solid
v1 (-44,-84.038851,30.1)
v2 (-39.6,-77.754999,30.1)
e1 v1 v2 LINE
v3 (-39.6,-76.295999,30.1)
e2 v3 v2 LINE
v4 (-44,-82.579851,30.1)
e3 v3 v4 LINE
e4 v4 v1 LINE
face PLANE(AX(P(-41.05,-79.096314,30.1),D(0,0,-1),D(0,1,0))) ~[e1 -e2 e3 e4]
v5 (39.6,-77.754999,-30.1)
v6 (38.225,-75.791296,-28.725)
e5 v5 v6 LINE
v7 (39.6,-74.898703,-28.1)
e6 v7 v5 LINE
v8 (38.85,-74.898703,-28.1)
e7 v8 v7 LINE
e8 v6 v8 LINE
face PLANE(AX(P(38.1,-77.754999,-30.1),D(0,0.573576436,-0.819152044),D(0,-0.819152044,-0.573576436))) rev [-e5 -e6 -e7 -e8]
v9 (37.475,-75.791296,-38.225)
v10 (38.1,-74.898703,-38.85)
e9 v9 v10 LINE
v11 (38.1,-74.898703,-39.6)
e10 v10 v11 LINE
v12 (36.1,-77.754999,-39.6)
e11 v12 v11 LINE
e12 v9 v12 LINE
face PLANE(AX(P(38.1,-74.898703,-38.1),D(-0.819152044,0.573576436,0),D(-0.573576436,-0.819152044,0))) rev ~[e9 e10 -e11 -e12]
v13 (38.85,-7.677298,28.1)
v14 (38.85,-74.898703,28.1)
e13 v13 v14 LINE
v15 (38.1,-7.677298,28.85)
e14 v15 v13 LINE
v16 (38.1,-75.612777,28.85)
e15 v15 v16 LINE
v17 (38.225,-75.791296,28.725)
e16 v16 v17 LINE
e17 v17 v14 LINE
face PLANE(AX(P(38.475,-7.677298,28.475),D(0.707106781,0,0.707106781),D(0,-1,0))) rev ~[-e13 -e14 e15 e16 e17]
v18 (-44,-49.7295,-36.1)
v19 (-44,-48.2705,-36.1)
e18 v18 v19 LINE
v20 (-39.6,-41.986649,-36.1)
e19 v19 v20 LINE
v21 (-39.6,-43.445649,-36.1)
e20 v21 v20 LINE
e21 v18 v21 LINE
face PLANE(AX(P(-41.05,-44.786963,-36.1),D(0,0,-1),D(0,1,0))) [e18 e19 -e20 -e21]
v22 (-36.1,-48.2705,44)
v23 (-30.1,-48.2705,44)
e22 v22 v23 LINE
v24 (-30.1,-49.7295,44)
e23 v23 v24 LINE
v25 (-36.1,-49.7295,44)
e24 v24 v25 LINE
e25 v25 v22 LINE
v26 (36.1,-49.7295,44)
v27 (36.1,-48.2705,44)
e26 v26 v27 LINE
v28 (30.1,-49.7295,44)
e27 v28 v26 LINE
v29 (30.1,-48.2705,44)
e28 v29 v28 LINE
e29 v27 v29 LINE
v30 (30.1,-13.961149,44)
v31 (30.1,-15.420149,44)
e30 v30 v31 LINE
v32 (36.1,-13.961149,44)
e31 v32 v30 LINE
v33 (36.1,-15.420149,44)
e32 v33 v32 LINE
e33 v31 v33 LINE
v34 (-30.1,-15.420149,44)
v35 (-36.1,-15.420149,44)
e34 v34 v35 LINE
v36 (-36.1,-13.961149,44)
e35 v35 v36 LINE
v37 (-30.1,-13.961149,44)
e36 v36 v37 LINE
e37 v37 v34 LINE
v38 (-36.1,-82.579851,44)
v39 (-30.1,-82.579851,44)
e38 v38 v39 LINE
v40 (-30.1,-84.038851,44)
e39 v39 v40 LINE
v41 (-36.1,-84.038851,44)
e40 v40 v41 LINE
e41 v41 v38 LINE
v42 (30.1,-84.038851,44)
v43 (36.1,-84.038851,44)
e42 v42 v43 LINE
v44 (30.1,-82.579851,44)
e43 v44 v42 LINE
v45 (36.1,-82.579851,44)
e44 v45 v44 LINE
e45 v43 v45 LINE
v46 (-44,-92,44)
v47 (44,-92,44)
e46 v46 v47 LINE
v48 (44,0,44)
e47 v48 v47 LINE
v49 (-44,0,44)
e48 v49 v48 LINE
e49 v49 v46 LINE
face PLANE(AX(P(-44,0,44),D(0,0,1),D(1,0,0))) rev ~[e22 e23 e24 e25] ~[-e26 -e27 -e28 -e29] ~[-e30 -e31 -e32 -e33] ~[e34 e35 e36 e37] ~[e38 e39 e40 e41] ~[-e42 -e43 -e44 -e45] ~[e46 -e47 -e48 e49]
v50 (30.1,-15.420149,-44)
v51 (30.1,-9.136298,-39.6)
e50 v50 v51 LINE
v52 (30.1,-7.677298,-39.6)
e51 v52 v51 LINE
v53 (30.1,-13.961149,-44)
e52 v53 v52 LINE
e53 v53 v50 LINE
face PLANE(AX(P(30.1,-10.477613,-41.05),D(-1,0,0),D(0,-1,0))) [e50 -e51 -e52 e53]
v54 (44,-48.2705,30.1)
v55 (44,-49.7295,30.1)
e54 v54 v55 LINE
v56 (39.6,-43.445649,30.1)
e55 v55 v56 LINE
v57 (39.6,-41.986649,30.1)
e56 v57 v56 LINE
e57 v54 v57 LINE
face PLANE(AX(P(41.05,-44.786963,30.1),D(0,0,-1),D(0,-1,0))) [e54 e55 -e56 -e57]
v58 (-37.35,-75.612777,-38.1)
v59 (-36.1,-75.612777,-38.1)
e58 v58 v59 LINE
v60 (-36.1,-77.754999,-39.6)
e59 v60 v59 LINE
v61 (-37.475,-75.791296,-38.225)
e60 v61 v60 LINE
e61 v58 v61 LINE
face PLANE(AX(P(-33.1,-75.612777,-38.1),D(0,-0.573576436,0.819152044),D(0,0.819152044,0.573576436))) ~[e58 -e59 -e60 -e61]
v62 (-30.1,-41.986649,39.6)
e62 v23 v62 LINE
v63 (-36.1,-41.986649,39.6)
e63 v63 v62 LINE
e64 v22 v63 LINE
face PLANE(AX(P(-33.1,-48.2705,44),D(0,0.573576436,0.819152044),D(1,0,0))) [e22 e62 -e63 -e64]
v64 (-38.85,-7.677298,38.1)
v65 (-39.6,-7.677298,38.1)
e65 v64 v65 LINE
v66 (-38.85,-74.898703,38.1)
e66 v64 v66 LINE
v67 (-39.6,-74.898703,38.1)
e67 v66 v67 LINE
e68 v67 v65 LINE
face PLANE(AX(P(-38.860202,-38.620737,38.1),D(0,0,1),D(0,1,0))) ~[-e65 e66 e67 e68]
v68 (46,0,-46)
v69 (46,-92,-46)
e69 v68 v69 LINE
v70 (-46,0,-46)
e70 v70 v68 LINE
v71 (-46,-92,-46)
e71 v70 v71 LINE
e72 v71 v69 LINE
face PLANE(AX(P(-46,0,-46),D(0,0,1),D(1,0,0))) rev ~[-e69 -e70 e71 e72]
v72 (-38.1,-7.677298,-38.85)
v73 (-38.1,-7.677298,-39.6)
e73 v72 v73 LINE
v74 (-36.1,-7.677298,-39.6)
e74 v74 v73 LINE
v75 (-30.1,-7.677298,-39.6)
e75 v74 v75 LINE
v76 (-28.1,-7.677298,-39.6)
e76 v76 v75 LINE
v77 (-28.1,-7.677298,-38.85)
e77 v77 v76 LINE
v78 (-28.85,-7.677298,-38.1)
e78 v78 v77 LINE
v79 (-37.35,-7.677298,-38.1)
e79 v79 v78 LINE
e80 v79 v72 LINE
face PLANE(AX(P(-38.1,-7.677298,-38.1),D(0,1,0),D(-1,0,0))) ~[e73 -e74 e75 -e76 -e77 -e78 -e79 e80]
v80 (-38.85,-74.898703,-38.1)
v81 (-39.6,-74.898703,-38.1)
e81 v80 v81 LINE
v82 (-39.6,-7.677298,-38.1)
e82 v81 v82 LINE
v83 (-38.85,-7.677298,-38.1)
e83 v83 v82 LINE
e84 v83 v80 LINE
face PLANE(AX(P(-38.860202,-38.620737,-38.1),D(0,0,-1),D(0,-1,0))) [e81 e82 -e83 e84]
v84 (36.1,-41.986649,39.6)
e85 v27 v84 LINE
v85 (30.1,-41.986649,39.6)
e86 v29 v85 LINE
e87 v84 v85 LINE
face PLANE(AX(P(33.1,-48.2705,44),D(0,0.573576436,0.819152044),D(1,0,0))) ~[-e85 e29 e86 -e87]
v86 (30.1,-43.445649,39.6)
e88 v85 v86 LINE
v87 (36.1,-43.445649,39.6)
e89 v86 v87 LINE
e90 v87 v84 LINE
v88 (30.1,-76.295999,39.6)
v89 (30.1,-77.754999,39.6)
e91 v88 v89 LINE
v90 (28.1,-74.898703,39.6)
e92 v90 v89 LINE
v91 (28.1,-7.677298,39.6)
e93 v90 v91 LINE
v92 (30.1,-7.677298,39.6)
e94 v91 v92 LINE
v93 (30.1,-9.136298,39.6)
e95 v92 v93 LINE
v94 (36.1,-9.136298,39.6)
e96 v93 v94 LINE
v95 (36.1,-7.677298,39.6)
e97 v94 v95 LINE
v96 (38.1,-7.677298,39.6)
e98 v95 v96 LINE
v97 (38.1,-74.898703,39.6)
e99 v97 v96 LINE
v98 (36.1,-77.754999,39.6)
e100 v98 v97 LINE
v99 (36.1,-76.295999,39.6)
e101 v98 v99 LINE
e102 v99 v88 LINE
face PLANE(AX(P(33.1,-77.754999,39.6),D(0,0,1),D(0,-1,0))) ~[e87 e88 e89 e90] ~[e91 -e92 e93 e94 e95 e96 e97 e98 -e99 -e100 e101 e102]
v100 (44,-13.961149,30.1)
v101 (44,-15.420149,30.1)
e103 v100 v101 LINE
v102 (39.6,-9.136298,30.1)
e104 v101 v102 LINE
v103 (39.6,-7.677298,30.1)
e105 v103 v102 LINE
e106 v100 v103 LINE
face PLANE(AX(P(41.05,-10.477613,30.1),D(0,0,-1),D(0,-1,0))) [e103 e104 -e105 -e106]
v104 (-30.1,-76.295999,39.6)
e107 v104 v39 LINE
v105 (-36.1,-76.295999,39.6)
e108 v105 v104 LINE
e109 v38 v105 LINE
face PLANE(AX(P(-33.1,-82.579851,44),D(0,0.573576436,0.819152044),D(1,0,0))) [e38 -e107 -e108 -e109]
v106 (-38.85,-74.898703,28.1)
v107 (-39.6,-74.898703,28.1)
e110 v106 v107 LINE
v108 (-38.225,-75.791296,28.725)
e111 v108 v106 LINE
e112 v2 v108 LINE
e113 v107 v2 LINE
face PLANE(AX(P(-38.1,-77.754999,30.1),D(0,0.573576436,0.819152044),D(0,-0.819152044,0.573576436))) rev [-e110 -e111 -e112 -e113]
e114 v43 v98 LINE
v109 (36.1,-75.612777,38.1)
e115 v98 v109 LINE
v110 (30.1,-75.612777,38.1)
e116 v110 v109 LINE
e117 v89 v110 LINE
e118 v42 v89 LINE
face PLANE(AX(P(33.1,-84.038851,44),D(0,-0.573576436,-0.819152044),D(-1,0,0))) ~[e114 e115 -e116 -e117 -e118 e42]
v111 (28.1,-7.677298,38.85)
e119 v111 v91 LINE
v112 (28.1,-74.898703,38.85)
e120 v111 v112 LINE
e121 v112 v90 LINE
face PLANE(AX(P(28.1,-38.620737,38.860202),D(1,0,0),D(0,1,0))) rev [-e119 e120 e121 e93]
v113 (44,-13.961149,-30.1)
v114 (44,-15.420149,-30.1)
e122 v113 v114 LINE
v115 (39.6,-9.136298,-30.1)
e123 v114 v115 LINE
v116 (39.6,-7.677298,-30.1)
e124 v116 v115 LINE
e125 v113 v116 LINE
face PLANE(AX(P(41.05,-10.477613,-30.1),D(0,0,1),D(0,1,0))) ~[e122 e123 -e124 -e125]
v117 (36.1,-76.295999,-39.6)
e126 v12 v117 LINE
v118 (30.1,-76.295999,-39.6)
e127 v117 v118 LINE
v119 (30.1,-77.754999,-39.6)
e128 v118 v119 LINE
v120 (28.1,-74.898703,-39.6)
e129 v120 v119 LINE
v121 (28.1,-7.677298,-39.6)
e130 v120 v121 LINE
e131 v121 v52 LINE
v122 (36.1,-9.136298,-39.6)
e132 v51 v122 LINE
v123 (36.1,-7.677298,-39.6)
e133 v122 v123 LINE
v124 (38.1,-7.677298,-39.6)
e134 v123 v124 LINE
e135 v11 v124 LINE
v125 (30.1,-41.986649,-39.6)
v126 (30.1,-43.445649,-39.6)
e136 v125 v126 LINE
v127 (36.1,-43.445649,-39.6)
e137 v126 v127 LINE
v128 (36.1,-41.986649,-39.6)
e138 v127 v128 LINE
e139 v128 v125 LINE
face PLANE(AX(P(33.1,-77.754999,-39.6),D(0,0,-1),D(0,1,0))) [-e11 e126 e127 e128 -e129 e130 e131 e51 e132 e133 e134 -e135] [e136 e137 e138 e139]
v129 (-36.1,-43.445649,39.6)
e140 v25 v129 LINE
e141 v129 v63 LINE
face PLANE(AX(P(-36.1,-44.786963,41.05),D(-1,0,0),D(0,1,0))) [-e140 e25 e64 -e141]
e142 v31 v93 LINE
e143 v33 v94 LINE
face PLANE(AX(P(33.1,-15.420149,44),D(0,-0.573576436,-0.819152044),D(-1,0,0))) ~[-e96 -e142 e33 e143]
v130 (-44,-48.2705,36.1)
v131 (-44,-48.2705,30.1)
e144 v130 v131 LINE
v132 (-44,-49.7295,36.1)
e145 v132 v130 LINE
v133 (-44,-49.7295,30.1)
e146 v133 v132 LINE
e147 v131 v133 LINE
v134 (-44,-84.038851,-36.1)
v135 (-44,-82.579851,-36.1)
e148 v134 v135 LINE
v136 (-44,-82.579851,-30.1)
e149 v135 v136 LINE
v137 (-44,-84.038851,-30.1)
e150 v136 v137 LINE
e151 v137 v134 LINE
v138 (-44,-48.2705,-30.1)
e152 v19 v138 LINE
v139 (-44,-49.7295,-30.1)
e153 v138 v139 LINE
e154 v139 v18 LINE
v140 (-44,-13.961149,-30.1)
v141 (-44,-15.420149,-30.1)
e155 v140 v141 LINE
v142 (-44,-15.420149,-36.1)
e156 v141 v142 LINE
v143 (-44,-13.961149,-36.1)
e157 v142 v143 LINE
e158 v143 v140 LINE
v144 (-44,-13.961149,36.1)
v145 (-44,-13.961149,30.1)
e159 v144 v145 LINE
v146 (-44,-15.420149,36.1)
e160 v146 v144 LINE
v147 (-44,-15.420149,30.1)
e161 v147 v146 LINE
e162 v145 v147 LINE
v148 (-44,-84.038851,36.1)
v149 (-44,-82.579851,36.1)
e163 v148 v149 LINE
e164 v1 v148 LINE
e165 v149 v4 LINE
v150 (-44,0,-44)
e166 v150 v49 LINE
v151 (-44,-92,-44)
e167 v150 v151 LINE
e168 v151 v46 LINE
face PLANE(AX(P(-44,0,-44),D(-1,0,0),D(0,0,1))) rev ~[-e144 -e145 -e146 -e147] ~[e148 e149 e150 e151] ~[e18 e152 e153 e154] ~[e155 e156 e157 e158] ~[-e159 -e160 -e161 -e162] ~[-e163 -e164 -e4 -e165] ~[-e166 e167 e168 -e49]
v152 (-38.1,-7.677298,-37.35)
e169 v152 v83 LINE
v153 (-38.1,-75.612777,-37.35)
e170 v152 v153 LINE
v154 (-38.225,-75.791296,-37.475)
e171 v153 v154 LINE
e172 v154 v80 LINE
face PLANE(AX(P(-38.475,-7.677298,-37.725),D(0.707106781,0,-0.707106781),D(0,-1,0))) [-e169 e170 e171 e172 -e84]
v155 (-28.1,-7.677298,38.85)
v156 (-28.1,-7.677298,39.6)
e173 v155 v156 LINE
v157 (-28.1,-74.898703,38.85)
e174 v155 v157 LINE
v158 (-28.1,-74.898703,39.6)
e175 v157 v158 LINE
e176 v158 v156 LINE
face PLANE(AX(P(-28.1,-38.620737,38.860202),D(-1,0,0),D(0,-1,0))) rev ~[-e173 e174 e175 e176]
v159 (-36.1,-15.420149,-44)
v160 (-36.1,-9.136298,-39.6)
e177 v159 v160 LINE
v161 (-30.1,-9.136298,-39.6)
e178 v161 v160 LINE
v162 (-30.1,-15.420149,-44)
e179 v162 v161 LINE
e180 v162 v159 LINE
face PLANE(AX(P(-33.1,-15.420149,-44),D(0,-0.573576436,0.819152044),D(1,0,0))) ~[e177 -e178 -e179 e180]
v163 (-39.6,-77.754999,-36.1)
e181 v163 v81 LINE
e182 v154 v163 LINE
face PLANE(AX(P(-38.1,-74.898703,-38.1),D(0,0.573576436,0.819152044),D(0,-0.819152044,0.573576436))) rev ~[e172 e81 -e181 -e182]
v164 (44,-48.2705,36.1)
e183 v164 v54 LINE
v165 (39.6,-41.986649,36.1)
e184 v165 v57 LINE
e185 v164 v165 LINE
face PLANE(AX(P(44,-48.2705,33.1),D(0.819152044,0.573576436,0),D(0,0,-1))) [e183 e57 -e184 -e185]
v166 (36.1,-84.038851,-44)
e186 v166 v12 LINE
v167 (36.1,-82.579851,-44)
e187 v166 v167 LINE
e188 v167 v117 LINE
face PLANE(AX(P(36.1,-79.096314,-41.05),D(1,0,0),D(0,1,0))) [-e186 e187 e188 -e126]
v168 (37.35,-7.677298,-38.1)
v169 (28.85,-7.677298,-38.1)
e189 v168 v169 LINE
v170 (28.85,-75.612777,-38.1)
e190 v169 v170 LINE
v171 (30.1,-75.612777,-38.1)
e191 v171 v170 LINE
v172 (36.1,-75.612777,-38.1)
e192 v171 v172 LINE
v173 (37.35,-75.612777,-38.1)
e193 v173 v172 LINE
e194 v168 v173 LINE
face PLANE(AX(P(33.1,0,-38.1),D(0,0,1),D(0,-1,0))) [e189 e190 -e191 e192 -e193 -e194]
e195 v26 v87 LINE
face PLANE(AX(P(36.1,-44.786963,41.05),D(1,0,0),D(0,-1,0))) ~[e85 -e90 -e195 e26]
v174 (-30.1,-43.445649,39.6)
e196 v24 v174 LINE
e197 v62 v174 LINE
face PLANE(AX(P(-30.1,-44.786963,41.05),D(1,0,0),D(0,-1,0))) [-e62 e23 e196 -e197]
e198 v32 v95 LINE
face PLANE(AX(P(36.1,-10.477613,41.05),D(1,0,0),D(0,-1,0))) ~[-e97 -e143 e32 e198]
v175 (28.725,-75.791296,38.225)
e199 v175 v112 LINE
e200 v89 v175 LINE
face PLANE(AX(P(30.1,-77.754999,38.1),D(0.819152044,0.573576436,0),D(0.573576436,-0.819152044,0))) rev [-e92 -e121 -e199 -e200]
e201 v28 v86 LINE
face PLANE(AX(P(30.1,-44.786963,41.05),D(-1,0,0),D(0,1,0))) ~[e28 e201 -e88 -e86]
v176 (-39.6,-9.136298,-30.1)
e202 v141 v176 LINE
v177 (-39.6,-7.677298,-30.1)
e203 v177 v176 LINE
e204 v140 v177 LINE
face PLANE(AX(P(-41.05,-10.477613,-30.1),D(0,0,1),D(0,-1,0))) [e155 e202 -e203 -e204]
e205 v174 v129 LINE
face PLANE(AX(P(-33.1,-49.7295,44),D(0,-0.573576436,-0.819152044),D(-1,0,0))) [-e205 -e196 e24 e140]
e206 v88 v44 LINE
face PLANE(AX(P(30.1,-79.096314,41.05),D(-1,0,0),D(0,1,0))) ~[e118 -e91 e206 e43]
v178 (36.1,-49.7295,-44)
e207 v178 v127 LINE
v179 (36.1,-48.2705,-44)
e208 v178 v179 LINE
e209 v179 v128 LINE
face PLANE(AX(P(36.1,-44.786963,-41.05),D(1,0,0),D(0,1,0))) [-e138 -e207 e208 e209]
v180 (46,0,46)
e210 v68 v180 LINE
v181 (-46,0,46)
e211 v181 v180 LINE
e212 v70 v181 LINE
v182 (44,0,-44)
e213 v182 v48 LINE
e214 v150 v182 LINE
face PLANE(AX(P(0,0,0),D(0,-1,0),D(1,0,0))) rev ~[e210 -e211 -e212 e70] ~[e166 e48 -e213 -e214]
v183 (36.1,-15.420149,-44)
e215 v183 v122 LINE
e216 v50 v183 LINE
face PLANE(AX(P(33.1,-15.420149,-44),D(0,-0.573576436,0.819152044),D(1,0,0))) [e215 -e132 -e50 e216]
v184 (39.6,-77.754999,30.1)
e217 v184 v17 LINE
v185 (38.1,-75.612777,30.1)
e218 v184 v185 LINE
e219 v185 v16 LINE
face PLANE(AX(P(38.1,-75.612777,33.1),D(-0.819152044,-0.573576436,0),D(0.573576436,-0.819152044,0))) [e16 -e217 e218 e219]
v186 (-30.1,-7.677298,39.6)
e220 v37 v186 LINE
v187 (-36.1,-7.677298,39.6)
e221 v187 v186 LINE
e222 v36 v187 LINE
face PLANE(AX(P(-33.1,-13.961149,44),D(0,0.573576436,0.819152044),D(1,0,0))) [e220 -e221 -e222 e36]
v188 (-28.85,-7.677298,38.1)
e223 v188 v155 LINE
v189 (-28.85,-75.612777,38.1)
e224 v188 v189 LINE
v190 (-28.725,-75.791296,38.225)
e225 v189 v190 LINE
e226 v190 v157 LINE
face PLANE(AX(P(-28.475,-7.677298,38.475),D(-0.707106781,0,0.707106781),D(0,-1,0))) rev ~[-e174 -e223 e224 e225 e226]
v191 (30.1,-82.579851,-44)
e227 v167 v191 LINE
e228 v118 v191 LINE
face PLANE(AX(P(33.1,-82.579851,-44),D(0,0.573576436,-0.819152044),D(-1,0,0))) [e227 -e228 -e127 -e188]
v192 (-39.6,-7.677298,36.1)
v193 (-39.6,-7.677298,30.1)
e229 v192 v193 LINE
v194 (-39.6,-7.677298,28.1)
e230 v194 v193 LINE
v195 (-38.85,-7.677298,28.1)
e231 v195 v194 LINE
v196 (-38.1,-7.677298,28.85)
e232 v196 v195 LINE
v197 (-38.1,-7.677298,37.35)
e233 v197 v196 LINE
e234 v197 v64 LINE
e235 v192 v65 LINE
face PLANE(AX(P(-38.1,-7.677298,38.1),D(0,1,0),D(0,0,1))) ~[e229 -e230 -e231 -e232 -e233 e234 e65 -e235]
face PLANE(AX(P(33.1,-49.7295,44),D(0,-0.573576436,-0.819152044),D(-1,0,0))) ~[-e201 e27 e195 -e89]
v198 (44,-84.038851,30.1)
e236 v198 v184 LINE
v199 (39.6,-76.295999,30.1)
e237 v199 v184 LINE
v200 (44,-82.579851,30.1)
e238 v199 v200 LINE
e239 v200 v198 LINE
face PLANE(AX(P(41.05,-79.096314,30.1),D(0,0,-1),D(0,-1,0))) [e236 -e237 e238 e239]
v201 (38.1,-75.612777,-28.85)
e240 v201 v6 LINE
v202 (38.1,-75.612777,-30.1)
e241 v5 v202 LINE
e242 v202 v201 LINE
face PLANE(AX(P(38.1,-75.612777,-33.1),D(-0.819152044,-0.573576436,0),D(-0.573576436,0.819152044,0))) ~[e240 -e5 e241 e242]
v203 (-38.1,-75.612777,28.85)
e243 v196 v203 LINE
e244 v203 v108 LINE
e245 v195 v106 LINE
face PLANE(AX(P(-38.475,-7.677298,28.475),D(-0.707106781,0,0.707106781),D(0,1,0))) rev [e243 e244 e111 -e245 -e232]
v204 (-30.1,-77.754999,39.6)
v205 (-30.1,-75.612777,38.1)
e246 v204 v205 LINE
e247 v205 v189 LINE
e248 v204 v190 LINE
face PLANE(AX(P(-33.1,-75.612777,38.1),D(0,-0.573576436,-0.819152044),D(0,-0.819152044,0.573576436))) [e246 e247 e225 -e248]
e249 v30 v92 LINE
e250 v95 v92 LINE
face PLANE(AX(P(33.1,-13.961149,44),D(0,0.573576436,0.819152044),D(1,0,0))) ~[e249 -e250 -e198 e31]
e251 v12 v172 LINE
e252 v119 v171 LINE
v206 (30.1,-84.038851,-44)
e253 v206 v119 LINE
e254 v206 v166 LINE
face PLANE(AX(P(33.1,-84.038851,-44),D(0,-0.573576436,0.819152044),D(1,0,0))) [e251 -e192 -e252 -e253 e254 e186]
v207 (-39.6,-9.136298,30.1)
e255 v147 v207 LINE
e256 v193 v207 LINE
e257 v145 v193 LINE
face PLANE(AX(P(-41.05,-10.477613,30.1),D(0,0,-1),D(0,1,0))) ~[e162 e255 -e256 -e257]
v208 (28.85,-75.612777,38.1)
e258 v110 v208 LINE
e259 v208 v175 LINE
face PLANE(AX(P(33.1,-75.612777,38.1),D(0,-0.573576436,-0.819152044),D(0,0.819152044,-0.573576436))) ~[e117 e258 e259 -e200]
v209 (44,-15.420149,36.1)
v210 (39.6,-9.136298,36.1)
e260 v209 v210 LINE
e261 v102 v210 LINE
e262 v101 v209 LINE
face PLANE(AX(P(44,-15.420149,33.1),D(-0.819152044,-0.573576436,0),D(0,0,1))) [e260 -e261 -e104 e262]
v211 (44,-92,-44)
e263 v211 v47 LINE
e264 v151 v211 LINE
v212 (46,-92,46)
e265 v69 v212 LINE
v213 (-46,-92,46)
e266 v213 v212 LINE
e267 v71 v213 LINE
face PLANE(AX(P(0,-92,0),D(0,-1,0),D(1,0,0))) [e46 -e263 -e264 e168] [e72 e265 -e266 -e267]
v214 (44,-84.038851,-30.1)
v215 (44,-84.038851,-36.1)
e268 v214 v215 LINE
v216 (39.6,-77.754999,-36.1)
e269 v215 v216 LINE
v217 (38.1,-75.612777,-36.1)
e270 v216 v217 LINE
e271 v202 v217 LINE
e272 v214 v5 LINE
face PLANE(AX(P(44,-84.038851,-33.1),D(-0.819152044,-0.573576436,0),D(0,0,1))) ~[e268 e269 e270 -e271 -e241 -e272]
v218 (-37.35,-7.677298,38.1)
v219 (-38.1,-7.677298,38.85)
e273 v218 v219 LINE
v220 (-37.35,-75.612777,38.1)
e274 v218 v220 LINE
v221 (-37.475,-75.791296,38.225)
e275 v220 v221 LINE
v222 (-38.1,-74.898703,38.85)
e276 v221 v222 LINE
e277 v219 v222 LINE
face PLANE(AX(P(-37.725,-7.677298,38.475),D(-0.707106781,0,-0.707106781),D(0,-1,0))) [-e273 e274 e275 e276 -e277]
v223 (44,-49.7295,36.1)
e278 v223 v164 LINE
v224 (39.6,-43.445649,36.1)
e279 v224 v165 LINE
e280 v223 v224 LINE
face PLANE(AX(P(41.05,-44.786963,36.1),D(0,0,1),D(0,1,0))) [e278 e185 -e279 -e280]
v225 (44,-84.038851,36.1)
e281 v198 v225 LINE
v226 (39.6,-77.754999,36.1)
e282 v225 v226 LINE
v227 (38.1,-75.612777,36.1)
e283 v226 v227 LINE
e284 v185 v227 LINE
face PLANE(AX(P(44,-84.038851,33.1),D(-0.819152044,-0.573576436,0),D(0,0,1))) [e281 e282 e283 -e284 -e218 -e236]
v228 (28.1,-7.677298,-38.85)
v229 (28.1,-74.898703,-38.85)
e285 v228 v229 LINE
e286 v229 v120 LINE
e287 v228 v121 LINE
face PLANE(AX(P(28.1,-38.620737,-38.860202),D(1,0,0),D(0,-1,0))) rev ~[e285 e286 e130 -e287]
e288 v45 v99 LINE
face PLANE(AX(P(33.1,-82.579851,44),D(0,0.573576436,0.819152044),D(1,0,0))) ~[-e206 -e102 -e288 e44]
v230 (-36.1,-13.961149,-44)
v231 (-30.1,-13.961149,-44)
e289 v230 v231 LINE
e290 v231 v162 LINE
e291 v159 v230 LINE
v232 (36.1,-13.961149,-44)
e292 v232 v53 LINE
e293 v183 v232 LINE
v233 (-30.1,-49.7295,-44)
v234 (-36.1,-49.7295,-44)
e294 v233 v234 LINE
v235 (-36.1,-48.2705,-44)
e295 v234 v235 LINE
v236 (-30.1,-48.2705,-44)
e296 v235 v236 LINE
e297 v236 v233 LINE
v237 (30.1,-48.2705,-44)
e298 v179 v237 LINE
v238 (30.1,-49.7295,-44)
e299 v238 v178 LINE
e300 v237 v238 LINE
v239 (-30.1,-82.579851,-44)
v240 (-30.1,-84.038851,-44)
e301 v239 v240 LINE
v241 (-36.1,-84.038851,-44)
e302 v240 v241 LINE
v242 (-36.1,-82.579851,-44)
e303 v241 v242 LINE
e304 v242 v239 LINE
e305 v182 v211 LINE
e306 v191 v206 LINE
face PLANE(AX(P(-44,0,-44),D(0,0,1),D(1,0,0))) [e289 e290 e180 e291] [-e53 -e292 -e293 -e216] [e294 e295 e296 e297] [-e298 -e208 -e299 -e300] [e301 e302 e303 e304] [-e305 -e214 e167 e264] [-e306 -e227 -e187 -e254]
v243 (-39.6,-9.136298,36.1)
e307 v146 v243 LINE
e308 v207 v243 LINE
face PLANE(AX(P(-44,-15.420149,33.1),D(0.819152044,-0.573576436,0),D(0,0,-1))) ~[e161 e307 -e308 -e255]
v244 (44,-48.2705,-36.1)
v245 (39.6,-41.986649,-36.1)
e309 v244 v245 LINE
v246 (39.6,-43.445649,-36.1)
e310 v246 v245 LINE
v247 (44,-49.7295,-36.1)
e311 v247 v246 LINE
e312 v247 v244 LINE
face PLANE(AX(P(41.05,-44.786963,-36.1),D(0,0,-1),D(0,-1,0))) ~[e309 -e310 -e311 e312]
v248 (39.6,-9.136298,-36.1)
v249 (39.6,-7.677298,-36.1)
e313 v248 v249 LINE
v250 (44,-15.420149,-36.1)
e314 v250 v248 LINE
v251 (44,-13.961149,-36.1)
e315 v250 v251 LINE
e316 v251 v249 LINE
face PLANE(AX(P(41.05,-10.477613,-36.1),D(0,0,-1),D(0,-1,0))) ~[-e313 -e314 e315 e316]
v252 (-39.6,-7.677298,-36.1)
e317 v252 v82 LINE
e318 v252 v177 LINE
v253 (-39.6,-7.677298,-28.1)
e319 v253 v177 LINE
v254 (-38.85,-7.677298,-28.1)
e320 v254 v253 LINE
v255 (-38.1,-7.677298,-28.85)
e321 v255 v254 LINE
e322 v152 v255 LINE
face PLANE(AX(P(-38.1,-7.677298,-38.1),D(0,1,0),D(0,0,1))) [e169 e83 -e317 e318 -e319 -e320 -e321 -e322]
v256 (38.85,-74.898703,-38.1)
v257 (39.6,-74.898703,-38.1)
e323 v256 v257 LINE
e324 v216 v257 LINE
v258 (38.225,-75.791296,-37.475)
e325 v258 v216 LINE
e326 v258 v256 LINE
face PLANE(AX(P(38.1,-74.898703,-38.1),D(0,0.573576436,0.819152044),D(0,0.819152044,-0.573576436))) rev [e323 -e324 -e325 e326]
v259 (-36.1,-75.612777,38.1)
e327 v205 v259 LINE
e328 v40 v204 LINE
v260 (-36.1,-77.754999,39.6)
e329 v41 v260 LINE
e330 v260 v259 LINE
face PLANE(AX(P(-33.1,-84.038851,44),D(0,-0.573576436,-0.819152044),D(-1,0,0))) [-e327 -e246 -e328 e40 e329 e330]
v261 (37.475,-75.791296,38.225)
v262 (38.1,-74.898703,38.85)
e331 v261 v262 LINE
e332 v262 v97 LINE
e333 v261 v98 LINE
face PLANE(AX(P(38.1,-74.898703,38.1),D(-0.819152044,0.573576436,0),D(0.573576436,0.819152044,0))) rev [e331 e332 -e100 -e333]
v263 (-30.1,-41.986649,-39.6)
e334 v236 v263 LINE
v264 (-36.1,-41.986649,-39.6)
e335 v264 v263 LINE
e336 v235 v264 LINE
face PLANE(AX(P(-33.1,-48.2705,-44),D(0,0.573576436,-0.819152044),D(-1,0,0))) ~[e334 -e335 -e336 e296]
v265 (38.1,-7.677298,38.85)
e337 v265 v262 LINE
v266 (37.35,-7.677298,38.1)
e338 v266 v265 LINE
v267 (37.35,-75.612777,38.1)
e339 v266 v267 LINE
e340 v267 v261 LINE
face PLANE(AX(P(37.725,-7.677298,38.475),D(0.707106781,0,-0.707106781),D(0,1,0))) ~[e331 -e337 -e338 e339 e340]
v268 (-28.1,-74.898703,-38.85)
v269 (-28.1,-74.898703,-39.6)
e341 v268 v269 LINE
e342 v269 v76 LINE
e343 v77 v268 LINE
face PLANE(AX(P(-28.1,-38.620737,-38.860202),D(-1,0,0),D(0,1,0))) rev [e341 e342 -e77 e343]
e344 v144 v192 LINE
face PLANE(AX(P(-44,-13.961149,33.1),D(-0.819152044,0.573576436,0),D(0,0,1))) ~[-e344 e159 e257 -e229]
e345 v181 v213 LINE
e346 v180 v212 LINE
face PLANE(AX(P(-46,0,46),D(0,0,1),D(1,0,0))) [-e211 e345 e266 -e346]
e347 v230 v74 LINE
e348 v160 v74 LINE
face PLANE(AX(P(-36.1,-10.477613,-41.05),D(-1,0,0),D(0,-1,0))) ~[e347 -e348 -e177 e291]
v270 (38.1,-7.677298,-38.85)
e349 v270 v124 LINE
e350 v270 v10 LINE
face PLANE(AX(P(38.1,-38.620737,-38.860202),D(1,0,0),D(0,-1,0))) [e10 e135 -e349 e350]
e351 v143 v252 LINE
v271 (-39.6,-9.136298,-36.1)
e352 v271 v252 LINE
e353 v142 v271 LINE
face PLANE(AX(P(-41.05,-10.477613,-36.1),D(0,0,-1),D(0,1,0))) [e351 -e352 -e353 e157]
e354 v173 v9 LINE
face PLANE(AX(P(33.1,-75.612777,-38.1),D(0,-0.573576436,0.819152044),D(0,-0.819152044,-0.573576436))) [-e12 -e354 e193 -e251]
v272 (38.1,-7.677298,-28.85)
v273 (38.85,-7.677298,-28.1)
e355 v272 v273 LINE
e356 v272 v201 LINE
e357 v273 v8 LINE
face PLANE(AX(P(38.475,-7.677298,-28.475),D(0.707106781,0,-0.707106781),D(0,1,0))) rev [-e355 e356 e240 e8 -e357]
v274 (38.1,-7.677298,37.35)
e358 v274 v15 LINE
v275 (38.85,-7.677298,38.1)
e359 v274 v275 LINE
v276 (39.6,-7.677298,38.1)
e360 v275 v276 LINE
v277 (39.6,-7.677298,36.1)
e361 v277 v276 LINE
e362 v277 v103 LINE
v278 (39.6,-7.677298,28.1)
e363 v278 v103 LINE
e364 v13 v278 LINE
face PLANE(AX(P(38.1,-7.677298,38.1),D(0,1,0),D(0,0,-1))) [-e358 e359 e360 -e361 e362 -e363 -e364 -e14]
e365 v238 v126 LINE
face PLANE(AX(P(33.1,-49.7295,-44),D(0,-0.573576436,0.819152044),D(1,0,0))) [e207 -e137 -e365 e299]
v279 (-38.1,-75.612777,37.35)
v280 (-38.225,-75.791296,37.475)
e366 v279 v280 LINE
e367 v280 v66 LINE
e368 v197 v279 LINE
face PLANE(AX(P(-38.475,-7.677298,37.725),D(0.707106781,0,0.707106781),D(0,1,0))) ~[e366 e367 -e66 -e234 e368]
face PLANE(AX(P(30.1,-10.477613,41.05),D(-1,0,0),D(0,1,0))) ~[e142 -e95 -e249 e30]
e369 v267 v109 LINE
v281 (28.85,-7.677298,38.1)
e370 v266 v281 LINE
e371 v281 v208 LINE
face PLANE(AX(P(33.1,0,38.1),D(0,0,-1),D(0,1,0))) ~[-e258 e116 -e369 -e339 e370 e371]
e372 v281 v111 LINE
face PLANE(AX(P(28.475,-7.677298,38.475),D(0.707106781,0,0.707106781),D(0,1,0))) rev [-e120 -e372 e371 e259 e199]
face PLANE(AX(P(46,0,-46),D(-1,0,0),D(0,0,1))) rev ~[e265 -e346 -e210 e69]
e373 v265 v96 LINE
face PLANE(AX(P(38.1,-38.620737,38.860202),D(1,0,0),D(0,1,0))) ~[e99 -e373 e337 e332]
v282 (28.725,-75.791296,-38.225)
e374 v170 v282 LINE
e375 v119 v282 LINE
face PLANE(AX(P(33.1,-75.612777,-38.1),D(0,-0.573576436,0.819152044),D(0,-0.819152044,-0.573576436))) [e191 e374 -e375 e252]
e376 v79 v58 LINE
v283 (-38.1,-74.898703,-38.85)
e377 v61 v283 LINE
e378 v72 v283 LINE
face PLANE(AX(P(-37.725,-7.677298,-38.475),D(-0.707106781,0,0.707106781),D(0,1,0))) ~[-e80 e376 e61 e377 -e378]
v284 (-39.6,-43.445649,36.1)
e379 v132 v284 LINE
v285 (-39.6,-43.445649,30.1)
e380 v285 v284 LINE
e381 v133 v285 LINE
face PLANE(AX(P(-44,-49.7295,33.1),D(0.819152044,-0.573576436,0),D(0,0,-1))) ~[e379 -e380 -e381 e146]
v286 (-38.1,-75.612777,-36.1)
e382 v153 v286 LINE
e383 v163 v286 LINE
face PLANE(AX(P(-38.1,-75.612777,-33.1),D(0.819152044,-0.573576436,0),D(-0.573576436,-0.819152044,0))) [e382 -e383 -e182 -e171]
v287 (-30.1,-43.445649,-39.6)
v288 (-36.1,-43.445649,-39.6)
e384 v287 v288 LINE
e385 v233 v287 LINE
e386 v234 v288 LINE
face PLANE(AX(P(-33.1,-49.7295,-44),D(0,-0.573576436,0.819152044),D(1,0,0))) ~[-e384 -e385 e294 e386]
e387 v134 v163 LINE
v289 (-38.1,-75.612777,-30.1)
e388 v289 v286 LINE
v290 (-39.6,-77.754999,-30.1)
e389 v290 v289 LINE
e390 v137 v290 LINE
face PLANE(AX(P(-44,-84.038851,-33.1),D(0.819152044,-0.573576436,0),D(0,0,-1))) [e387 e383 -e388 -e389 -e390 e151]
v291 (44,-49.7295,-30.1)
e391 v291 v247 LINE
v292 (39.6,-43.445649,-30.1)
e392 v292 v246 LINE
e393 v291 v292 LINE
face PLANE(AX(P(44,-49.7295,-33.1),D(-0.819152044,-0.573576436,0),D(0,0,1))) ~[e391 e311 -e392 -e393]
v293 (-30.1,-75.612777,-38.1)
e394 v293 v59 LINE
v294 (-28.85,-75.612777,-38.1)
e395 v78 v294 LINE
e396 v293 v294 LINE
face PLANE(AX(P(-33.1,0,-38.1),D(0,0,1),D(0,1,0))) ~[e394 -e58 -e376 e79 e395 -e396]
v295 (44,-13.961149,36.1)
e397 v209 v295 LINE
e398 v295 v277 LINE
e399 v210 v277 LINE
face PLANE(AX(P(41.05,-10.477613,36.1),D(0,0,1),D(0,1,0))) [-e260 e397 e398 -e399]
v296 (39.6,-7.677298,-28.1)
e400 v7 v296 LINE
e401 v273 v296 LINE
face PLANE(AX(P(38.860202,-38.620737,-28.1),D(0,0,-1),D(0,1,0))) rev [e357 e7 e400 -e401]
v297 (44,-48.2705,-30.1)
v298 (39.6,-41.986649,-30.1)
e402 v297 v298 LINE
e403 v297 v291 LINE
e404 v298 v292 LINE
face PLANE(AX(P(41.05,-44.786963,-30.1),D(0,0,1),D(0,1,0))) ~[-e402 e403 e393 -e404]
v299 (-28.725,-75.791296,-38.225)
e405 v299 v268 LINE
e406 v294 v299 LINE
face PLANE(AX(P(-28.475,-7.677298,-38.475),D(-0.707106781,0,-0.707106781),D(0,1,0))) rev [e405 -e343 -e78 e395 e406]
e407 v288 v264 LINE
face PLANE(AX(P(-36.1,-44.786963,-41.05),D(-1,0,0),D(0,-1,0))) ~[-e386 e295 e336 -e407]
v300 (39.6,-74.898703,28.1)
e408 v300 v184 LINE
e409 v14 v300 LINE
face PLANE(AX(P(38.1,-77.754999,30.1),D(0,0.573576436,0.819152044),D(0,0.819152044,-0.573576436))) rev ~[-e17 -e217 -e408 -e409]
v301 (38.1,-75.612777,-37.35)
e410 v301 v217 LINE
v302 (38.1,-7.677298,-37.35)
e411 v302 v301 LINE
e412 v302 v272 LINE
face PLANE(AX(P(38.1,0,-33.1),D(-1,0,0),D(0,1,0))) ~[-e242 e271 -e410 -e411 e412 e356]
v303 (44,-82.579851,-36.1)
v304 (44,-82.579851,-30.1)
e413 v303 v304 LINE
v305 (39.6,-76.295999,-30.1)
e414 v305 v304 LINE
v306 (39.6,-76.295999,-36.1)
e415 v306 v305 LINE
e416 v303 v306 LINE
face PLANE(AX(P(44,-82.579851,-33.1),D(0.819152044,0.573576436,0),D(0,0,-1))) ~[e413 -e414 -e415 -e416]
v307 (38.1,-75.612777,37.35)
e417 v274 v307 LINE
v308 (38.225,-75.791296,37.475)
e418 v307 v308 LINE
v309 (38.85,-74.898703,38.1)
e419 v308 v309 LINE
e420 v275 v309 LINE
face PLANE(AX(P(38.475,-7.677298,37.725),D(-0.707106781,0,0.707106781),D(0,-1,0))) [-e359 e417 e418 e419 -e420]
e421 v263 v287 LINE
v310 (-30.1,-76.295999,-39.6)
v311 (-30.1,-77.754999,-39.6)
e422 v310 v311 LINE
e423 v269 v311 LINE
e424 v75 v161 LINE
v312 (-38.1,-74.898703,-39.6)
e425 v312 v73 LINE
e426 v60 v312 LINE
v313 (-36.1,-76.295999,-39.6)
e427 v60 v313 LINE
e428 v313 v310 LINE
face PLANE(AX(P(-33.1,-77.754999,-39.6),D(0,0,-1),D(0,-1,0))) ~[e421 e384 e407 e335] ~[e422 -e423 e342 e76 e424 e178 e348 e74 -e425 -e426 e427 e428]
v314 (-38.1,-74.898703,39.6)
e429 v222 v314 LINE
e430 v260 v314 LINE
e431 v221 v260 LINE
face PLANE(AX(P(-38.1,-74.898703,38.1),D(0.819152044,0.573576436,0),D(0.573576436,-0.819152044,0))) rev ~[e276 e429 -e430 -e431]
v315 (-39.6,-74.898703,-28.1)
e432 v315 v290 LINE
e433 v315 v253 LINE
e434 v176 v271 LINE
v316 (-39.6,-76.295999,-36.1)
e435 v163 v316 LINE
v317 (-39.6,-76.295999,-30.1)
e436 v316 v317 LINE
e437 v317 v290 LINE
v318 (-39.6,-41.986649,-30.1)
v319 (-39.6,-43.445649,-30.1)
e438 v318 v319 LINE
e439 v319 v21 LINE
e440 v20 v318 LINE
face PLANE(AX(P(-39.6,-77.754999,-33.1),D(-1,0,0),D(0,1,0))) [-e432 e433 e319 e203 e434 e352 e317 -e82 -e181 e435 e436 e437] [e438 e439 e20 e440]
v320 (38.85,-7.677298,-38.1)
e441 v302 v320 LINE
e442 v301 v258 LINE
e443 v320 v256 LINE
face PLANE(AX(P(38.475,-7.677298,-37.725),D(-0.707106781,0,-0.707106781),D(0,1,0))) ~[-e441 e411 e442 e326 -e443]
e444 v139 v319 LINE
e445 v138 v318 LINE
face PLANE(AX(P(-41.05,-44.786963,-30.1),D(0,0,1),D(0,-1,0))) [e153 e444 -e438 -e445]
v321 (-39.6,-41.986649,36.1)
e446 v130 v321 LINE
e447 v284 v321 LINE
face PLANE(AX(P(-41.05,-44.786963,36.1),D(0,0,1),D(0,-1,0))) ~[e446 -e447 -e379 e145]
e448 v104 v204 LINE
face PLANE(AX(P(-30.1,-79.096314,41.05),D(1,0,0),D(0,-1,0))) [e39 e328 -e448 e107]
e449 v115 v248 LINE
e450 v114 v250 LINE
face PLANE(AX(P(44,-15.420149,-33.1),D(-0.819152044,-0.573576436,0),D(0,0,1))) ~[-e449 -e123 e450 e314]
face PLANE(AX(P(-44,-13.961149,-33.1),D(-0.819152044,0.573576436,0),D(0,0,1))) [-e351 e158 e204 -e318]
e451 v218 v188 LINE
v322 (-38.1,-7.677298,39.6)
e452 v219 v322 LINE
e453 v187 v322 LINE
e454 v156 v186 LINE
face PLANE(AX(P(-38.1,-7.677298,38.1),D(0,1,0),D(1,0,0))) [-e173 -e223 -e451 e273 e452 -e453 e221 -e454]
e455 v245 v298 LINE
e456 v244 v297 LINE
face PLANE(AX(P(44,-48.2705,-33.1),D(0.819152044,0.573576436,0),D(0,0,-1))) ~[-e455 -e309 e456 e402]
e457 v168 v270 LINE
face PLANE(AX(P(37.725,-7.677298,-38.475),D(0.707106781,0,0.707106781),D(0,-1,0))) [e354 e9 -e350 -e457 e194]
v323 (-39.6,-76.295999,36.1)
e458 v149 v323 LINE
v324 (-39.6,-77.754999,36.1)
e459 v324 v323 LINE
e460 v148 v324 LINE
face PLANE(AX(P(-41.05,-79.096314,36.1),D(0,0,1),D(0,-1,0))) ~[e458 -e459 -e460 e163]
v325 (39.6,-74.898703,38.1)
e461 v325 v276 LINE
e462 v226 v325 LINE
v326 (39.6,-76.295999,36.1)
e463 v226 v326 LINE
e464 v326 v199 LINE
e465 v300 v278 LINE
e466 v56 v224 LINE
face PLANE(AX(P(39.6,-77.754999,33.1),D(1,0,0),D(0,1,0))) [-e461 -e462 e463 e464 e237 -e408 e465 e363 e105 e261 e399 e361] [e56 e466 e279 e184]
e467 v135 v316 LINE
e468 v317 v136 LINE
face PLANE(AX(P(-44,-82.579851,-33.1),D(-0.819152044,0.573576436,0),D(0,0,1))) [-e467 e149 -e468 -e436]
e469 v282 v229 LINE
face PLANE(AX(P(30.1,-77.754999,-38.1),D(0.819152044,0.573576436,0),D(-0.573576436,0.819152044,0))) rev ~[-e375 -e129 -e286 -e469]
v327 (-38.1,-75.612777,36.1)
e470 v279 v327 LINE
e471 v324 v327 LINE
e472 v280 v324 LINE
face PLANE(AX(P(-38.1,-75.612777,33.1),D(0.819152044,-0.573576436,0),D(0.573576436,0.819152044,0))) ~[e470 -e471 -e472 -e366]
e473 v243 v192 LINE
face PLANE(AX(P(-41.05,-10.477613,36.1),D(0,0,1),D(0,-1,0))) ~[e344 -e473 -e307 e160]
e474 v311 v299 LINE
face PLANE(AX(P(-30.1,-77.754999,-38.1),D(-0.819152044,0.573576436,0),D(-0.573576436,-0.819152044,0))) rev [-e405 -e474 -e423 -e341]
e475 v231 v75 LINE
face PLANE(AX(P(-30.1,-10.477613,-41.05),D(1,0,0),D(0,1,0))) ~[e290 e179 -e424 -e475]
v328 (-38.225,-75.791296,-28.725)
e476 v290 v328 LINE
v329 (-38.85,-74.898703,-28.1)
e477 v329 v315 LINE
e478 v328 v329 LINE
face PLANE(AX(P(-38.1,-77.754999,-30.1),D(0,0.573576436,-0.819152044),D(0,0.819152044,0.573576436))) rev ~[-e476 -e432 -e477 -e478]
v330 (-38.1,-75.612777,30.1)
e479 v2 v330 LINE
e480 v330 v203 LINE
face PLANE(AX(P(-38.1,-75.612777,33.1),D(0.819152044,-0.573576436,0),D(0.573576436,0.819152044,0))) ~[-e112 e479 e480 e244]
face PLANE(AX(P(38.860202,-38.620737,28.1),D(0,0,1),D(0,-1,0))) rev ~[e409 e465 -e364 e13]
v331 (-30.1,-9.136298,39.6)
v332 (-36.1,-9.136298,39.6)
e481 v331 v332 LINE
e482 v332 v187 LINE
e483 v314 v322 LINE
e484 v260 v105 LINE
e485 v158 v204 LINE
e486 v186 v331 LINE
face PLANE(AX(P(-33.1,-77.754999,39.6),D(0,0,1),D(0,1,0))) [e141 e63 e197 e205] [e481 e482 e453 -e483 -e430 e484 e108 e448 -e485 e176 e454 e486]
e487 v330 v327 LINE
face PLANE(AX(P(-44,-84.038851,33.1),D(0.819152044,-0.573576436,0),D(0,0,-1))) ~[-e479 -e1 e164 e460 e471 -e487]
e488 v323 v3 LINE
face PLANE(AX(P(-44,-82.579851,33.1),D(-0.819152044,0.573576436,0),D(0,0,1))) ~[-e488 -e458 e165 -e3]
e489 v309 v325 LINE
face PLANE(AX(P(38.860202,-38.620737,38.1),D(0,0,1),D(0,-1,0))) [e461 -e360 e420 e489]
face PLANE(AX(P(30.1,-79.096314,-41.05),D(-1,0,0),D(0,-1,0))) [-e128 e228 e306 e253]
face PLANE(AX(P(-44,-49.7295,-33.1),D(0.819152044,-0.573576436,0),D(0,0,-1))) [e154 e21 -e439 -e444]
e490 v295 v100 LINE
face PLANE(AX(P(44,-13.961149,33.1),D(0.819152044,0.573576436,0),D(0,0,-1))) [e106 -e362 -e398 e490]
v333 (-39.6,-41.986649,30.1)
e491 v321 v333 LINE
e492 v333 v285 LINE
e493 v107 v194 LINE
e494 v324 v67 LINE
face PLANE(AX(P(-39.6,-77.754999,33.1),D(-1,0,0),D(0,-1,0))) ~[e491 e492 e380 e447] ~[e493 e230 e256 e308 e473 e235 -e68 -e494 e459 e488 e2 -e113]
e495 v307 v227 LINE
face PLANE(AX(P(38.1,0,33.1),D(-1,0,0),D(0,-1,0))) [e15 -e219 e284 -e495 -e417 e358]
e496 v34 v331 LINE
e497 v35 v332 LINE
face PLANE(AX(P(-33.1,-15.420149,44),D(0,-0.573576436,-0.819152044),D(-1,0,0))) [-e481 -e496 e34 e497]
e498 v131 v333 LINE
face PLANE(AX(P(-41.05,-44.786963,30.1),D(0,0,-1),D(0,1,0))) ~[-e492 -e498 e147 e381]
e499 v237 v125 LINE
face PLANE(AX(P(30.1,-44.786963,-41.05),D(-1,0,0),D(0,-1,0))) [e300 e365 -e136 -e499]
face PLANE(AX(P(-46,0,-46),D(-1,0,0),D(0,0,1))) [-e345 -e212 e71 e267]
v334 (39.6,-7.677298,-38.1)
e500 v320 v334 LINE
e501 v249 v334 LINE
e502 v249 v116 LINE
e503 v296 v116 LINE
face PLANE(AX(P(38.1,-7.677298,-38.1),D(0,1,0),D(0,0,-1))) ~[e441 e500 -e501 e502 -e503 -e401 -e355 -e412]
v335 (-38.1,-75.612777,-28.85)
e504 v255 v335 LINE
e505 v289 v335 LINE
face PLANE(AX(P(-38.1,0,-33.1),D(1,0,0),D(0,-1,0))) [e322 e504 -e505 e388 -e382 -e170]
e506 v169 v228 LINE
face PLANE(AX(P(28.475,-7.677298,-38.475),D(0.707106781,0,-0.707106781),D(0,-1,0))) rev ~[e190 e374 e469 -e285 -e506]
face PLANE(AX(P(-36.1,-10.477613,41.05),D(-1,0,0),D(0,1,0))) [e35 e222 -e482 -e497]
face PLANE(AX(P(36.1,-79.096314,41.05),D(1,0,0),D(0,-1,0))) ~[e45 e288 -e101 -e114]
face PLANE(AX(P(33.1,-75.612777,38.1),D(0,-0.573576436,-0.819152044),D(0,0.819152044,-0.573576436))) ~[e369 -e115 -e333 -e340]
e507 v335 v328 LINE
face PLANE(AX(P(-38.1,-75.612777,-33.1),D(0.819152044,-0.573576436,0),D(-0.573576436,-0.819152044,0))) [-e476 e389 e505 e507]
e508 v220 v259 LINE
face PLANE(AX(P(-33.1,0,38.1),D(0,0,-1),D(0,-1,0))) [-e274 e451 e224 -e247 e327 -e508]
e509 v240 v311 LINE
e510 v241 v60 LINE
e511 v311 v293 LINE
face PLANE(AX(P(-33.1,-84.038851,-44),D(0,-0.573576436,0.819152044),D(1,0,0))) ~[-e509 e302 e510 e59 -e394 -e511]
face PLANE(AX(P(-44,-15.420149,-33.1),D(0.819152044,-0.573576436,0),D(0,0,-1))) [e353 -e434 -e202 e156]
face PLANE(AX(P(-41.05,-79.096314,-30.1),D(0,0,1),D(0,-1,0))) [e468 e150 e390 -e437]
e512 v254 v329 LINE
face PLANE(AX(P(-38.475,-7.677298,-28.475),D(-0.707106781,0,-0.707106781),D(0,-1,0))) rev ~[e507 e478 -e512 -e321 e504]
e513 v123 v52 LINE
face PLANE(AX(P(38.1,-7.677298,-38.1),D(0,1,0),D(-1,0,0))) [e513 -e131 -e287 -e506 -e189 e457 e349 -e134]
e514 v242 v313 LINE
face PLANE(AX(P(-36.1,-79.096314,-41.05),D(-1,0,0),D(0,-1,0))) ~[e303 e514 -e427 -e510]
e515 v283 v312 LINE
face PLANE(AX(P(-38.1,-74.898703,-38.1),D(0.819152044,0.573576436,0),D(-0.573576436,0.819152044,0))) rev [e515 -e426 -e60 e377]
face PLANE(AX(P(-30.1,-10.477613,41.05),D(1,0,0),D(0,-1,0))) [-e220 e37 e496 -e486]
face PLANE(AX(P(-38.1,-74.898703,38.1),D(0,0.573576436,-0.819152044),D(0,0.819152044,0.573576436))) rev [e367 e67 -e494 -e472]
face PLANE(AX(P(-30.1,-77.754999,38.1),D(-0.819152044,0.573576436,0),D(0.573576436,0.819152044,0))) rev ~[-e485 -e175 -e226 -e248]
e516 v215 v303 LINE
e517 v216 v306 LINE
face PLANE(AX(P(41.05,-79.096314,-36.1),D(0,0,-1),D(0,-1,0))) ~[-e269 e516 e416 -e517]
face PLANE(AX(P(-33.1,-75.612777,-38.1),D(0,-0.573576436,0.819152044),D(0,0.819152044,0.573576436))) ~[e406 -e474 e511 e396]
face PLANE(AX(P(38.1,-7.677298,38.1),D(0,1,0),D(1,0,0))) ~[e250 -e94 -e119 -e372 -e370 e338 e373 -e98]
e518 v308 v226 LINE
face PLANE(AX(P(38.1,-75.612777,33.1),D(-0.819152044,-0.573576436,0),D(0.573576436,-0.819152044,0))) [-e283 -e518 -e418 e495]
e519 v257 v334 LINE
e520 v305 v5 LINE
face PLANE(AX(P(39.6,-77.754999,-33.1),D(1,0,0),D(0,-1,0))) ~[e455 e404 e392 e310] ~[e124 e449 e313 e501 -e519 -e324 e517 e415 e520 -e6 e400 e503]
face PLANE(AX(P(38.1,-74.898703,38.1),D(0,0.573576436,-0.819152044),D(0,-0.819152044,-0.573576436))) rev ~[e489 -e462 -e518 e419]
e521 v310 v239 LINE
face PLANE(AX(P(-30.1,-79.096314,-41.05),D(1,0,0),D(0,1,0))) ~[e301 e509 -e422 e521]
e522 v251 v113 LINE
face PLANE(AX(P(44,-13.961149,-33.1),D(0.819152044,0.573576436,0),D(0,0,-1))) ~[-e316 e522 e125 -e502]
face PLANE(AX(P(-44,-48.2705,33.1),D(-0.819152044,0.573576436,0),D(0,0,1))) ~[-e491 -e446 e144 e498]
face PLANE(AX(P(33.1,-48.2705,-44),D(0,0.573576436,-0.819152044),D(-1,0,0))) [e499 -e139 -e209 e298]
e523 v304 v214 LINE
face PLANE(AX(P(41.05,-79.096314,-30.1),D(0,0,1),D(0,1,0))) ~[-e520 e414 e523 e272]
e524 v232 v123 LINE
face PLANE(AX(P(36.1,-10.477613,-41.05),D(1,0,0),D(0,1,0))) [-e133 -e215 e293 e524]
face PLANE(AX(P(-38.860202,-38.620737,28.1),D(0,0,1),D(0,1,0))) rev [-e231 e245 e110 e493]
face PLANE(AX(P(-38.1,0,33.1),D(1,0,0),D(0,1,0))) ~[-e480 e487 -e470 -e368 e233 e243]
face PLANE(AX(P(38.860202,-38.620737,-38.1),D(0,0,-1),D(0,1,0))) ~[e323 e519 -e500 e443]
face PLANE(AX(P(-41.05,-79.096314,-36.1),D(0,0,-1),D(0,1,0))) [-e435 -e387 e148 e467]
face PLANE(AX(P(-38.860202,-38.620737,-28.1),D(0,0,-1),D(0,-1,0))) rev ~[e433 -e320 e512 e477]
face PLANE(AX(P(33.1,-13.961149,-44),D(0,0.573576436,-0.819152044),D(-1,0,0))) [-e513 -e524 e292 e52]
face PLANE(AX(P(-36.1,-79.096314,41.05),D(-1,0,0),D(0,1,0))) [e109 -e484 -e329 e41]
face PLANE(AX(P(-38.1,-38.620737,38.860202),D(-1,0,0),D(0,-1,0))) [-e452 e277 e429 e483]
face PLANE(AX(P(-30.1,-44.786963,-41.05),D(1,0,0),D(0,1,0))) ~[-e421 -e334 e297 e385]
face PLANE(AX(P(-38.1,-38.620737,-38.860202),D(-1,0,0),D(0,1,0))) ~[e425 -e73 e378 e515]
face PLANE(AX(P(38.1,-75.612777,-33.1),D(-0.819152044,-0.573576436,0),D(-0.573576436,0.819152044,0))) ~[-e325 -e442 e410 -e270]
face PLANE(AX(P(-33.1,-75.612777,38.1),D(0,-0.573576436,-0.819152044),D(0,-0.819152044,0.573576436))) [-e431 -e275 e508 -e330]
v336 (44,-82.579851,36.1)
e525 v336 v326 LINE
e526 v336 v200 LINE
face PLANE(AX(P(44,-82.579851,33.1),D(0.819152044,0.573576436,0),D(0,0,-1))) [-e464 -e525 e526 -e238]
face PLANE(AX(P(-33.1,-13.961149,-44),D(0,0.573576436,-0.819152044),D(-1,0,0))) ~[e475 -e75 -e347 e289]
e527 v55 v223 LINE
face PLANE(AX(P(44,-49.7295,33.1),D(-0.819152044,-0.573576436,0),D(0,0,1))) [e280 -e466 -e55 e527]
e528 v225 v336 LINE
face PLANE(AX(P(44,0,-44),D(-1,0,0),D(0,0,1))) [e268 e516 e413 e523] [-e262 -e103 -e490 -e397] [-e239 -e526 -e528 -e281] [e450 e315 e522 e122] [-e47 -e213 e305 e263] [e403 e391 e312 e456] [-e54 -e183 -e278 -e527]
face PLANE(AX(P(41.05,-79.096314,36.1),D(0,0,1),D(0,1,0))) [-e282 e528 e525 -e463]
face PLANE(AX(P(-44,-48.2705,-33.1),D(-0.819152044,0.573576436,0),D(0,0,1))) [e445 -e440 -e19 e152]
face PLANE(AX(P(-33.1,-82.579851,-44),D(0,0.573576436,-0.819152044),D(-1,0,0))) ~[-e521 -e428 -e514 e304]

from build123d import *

# Parameters (mm, degrees)
F0_W      = 92
F0_H      = 92
F0_W_2    = 88
F0_H_2    = 88
F1_DEPTH  = 92
F2_W      = 6
F2_H      = 1.459
F2_H_2    = 0.7295
F7_DEPTH  = 5
F8_W      = 10
F8_H      = 7.6772981499
F9_DEPTH  = 3
F10_SIZE  = 0.75
F12_COUNT = 4


with BuildPart() as f1:
    # F0 (on Front) → F1 (new body)
    with BuildSketch(Plane.XZ):
        Rectangle(F0_W, F0_H)
        Rectangle(F0_W_2, F0_H_2, mode=Mode.SUBTRACT)
    extrude(amount=F1_DEPTH)

    # F6: sweep along a path in F5
    with BuildLine(Plane(origin=(-33.1, 0, 0), x_dir=(0, -1, 0), z_dir=(-1, 0, 0))) as f6_path:
        Line((84.0388506204, 44), (75.6127773806, 38.1))
    # F2 (on face) → F6 (sweep)
    with BuildSketch(Plane(origin=(0, 0, 44), x_dir=(1, 0, 0), z_dir=(0, 0, -1))):
        with Locations((-33.1, 83.3093506204)):
            Rectangle(F2_W, F2_H)
        with Locations((-33.1, 48.63525)):
            Rectangle(F2_W, F2_H_2)
        with Locations((-33.1, 49.36475)):
            Rectangle(F2_W, F2_H_2)
        with Locations((-33.1, 14.6906493796)):
            Rectangle(F2_W, F2_H)
    sweep(path=f6_path.line)

    # F5 (on line) → F7 (join, symmetric)
    with BuildSketch(Plane(origin=(-33.1, 0, 0), x_dir=(0, -1, 0), z_dir=(-1, 0, 0))):
        Polygon((75.6127773806, 38.1), (77.7549993907, 39.6), (0, 39.6), (0, 38.1), align=None)
    extrude(amount=F7_DEPTH, both=True)

    # F8 (on face) → F9 (cut)
    with BuildSketch(Plane(origin=(0, 0, 38.1), x_dir=(1, 0, 0), z_dir=(0, 0, -1))):
        Polygon((-38.1, 74.8987033772), (-36.1, 77.7549993907), (-38.1, 77.7549993907), align=None)
        Polygon((-30.1, 77.7549993907), (-28.1, 74.8987033772), (-28.1, 77.7549993907), align=None)
        with Locations((-33.1, 3.838649075)):
            Rectangle(F8_W, F8_H)
    extrude(amount=-F9_DEPTH, mode=Mode.SUBTRACT)

    # F10
    f10_edges = [f1.edges().sort_by_distance(p)[0] for p in [
        (-38.1, -41.288001, 38.1),
        (-28.1, -41.288001, 38.1),
    ]]
    chamfer(f10_edges, length=F10_SIZE)

    # F11: F1 across plane


with BuildPart() as f1_1:
    add(f1.part)
    add(f1.part.mirror(Plane.YZ))

    # F12: F1 ×4 about axis
    f12_axis = Axis((0, -46, 0), (0, -1, 0))


with BuildPart() as f1_2:
    add(f1_1.part)
    for i in range(1, F12_COUNT):
        add(f1_1.part.rotate(f12_axis, i * 360 / F12_COUNT))


solid = f1_2.part
